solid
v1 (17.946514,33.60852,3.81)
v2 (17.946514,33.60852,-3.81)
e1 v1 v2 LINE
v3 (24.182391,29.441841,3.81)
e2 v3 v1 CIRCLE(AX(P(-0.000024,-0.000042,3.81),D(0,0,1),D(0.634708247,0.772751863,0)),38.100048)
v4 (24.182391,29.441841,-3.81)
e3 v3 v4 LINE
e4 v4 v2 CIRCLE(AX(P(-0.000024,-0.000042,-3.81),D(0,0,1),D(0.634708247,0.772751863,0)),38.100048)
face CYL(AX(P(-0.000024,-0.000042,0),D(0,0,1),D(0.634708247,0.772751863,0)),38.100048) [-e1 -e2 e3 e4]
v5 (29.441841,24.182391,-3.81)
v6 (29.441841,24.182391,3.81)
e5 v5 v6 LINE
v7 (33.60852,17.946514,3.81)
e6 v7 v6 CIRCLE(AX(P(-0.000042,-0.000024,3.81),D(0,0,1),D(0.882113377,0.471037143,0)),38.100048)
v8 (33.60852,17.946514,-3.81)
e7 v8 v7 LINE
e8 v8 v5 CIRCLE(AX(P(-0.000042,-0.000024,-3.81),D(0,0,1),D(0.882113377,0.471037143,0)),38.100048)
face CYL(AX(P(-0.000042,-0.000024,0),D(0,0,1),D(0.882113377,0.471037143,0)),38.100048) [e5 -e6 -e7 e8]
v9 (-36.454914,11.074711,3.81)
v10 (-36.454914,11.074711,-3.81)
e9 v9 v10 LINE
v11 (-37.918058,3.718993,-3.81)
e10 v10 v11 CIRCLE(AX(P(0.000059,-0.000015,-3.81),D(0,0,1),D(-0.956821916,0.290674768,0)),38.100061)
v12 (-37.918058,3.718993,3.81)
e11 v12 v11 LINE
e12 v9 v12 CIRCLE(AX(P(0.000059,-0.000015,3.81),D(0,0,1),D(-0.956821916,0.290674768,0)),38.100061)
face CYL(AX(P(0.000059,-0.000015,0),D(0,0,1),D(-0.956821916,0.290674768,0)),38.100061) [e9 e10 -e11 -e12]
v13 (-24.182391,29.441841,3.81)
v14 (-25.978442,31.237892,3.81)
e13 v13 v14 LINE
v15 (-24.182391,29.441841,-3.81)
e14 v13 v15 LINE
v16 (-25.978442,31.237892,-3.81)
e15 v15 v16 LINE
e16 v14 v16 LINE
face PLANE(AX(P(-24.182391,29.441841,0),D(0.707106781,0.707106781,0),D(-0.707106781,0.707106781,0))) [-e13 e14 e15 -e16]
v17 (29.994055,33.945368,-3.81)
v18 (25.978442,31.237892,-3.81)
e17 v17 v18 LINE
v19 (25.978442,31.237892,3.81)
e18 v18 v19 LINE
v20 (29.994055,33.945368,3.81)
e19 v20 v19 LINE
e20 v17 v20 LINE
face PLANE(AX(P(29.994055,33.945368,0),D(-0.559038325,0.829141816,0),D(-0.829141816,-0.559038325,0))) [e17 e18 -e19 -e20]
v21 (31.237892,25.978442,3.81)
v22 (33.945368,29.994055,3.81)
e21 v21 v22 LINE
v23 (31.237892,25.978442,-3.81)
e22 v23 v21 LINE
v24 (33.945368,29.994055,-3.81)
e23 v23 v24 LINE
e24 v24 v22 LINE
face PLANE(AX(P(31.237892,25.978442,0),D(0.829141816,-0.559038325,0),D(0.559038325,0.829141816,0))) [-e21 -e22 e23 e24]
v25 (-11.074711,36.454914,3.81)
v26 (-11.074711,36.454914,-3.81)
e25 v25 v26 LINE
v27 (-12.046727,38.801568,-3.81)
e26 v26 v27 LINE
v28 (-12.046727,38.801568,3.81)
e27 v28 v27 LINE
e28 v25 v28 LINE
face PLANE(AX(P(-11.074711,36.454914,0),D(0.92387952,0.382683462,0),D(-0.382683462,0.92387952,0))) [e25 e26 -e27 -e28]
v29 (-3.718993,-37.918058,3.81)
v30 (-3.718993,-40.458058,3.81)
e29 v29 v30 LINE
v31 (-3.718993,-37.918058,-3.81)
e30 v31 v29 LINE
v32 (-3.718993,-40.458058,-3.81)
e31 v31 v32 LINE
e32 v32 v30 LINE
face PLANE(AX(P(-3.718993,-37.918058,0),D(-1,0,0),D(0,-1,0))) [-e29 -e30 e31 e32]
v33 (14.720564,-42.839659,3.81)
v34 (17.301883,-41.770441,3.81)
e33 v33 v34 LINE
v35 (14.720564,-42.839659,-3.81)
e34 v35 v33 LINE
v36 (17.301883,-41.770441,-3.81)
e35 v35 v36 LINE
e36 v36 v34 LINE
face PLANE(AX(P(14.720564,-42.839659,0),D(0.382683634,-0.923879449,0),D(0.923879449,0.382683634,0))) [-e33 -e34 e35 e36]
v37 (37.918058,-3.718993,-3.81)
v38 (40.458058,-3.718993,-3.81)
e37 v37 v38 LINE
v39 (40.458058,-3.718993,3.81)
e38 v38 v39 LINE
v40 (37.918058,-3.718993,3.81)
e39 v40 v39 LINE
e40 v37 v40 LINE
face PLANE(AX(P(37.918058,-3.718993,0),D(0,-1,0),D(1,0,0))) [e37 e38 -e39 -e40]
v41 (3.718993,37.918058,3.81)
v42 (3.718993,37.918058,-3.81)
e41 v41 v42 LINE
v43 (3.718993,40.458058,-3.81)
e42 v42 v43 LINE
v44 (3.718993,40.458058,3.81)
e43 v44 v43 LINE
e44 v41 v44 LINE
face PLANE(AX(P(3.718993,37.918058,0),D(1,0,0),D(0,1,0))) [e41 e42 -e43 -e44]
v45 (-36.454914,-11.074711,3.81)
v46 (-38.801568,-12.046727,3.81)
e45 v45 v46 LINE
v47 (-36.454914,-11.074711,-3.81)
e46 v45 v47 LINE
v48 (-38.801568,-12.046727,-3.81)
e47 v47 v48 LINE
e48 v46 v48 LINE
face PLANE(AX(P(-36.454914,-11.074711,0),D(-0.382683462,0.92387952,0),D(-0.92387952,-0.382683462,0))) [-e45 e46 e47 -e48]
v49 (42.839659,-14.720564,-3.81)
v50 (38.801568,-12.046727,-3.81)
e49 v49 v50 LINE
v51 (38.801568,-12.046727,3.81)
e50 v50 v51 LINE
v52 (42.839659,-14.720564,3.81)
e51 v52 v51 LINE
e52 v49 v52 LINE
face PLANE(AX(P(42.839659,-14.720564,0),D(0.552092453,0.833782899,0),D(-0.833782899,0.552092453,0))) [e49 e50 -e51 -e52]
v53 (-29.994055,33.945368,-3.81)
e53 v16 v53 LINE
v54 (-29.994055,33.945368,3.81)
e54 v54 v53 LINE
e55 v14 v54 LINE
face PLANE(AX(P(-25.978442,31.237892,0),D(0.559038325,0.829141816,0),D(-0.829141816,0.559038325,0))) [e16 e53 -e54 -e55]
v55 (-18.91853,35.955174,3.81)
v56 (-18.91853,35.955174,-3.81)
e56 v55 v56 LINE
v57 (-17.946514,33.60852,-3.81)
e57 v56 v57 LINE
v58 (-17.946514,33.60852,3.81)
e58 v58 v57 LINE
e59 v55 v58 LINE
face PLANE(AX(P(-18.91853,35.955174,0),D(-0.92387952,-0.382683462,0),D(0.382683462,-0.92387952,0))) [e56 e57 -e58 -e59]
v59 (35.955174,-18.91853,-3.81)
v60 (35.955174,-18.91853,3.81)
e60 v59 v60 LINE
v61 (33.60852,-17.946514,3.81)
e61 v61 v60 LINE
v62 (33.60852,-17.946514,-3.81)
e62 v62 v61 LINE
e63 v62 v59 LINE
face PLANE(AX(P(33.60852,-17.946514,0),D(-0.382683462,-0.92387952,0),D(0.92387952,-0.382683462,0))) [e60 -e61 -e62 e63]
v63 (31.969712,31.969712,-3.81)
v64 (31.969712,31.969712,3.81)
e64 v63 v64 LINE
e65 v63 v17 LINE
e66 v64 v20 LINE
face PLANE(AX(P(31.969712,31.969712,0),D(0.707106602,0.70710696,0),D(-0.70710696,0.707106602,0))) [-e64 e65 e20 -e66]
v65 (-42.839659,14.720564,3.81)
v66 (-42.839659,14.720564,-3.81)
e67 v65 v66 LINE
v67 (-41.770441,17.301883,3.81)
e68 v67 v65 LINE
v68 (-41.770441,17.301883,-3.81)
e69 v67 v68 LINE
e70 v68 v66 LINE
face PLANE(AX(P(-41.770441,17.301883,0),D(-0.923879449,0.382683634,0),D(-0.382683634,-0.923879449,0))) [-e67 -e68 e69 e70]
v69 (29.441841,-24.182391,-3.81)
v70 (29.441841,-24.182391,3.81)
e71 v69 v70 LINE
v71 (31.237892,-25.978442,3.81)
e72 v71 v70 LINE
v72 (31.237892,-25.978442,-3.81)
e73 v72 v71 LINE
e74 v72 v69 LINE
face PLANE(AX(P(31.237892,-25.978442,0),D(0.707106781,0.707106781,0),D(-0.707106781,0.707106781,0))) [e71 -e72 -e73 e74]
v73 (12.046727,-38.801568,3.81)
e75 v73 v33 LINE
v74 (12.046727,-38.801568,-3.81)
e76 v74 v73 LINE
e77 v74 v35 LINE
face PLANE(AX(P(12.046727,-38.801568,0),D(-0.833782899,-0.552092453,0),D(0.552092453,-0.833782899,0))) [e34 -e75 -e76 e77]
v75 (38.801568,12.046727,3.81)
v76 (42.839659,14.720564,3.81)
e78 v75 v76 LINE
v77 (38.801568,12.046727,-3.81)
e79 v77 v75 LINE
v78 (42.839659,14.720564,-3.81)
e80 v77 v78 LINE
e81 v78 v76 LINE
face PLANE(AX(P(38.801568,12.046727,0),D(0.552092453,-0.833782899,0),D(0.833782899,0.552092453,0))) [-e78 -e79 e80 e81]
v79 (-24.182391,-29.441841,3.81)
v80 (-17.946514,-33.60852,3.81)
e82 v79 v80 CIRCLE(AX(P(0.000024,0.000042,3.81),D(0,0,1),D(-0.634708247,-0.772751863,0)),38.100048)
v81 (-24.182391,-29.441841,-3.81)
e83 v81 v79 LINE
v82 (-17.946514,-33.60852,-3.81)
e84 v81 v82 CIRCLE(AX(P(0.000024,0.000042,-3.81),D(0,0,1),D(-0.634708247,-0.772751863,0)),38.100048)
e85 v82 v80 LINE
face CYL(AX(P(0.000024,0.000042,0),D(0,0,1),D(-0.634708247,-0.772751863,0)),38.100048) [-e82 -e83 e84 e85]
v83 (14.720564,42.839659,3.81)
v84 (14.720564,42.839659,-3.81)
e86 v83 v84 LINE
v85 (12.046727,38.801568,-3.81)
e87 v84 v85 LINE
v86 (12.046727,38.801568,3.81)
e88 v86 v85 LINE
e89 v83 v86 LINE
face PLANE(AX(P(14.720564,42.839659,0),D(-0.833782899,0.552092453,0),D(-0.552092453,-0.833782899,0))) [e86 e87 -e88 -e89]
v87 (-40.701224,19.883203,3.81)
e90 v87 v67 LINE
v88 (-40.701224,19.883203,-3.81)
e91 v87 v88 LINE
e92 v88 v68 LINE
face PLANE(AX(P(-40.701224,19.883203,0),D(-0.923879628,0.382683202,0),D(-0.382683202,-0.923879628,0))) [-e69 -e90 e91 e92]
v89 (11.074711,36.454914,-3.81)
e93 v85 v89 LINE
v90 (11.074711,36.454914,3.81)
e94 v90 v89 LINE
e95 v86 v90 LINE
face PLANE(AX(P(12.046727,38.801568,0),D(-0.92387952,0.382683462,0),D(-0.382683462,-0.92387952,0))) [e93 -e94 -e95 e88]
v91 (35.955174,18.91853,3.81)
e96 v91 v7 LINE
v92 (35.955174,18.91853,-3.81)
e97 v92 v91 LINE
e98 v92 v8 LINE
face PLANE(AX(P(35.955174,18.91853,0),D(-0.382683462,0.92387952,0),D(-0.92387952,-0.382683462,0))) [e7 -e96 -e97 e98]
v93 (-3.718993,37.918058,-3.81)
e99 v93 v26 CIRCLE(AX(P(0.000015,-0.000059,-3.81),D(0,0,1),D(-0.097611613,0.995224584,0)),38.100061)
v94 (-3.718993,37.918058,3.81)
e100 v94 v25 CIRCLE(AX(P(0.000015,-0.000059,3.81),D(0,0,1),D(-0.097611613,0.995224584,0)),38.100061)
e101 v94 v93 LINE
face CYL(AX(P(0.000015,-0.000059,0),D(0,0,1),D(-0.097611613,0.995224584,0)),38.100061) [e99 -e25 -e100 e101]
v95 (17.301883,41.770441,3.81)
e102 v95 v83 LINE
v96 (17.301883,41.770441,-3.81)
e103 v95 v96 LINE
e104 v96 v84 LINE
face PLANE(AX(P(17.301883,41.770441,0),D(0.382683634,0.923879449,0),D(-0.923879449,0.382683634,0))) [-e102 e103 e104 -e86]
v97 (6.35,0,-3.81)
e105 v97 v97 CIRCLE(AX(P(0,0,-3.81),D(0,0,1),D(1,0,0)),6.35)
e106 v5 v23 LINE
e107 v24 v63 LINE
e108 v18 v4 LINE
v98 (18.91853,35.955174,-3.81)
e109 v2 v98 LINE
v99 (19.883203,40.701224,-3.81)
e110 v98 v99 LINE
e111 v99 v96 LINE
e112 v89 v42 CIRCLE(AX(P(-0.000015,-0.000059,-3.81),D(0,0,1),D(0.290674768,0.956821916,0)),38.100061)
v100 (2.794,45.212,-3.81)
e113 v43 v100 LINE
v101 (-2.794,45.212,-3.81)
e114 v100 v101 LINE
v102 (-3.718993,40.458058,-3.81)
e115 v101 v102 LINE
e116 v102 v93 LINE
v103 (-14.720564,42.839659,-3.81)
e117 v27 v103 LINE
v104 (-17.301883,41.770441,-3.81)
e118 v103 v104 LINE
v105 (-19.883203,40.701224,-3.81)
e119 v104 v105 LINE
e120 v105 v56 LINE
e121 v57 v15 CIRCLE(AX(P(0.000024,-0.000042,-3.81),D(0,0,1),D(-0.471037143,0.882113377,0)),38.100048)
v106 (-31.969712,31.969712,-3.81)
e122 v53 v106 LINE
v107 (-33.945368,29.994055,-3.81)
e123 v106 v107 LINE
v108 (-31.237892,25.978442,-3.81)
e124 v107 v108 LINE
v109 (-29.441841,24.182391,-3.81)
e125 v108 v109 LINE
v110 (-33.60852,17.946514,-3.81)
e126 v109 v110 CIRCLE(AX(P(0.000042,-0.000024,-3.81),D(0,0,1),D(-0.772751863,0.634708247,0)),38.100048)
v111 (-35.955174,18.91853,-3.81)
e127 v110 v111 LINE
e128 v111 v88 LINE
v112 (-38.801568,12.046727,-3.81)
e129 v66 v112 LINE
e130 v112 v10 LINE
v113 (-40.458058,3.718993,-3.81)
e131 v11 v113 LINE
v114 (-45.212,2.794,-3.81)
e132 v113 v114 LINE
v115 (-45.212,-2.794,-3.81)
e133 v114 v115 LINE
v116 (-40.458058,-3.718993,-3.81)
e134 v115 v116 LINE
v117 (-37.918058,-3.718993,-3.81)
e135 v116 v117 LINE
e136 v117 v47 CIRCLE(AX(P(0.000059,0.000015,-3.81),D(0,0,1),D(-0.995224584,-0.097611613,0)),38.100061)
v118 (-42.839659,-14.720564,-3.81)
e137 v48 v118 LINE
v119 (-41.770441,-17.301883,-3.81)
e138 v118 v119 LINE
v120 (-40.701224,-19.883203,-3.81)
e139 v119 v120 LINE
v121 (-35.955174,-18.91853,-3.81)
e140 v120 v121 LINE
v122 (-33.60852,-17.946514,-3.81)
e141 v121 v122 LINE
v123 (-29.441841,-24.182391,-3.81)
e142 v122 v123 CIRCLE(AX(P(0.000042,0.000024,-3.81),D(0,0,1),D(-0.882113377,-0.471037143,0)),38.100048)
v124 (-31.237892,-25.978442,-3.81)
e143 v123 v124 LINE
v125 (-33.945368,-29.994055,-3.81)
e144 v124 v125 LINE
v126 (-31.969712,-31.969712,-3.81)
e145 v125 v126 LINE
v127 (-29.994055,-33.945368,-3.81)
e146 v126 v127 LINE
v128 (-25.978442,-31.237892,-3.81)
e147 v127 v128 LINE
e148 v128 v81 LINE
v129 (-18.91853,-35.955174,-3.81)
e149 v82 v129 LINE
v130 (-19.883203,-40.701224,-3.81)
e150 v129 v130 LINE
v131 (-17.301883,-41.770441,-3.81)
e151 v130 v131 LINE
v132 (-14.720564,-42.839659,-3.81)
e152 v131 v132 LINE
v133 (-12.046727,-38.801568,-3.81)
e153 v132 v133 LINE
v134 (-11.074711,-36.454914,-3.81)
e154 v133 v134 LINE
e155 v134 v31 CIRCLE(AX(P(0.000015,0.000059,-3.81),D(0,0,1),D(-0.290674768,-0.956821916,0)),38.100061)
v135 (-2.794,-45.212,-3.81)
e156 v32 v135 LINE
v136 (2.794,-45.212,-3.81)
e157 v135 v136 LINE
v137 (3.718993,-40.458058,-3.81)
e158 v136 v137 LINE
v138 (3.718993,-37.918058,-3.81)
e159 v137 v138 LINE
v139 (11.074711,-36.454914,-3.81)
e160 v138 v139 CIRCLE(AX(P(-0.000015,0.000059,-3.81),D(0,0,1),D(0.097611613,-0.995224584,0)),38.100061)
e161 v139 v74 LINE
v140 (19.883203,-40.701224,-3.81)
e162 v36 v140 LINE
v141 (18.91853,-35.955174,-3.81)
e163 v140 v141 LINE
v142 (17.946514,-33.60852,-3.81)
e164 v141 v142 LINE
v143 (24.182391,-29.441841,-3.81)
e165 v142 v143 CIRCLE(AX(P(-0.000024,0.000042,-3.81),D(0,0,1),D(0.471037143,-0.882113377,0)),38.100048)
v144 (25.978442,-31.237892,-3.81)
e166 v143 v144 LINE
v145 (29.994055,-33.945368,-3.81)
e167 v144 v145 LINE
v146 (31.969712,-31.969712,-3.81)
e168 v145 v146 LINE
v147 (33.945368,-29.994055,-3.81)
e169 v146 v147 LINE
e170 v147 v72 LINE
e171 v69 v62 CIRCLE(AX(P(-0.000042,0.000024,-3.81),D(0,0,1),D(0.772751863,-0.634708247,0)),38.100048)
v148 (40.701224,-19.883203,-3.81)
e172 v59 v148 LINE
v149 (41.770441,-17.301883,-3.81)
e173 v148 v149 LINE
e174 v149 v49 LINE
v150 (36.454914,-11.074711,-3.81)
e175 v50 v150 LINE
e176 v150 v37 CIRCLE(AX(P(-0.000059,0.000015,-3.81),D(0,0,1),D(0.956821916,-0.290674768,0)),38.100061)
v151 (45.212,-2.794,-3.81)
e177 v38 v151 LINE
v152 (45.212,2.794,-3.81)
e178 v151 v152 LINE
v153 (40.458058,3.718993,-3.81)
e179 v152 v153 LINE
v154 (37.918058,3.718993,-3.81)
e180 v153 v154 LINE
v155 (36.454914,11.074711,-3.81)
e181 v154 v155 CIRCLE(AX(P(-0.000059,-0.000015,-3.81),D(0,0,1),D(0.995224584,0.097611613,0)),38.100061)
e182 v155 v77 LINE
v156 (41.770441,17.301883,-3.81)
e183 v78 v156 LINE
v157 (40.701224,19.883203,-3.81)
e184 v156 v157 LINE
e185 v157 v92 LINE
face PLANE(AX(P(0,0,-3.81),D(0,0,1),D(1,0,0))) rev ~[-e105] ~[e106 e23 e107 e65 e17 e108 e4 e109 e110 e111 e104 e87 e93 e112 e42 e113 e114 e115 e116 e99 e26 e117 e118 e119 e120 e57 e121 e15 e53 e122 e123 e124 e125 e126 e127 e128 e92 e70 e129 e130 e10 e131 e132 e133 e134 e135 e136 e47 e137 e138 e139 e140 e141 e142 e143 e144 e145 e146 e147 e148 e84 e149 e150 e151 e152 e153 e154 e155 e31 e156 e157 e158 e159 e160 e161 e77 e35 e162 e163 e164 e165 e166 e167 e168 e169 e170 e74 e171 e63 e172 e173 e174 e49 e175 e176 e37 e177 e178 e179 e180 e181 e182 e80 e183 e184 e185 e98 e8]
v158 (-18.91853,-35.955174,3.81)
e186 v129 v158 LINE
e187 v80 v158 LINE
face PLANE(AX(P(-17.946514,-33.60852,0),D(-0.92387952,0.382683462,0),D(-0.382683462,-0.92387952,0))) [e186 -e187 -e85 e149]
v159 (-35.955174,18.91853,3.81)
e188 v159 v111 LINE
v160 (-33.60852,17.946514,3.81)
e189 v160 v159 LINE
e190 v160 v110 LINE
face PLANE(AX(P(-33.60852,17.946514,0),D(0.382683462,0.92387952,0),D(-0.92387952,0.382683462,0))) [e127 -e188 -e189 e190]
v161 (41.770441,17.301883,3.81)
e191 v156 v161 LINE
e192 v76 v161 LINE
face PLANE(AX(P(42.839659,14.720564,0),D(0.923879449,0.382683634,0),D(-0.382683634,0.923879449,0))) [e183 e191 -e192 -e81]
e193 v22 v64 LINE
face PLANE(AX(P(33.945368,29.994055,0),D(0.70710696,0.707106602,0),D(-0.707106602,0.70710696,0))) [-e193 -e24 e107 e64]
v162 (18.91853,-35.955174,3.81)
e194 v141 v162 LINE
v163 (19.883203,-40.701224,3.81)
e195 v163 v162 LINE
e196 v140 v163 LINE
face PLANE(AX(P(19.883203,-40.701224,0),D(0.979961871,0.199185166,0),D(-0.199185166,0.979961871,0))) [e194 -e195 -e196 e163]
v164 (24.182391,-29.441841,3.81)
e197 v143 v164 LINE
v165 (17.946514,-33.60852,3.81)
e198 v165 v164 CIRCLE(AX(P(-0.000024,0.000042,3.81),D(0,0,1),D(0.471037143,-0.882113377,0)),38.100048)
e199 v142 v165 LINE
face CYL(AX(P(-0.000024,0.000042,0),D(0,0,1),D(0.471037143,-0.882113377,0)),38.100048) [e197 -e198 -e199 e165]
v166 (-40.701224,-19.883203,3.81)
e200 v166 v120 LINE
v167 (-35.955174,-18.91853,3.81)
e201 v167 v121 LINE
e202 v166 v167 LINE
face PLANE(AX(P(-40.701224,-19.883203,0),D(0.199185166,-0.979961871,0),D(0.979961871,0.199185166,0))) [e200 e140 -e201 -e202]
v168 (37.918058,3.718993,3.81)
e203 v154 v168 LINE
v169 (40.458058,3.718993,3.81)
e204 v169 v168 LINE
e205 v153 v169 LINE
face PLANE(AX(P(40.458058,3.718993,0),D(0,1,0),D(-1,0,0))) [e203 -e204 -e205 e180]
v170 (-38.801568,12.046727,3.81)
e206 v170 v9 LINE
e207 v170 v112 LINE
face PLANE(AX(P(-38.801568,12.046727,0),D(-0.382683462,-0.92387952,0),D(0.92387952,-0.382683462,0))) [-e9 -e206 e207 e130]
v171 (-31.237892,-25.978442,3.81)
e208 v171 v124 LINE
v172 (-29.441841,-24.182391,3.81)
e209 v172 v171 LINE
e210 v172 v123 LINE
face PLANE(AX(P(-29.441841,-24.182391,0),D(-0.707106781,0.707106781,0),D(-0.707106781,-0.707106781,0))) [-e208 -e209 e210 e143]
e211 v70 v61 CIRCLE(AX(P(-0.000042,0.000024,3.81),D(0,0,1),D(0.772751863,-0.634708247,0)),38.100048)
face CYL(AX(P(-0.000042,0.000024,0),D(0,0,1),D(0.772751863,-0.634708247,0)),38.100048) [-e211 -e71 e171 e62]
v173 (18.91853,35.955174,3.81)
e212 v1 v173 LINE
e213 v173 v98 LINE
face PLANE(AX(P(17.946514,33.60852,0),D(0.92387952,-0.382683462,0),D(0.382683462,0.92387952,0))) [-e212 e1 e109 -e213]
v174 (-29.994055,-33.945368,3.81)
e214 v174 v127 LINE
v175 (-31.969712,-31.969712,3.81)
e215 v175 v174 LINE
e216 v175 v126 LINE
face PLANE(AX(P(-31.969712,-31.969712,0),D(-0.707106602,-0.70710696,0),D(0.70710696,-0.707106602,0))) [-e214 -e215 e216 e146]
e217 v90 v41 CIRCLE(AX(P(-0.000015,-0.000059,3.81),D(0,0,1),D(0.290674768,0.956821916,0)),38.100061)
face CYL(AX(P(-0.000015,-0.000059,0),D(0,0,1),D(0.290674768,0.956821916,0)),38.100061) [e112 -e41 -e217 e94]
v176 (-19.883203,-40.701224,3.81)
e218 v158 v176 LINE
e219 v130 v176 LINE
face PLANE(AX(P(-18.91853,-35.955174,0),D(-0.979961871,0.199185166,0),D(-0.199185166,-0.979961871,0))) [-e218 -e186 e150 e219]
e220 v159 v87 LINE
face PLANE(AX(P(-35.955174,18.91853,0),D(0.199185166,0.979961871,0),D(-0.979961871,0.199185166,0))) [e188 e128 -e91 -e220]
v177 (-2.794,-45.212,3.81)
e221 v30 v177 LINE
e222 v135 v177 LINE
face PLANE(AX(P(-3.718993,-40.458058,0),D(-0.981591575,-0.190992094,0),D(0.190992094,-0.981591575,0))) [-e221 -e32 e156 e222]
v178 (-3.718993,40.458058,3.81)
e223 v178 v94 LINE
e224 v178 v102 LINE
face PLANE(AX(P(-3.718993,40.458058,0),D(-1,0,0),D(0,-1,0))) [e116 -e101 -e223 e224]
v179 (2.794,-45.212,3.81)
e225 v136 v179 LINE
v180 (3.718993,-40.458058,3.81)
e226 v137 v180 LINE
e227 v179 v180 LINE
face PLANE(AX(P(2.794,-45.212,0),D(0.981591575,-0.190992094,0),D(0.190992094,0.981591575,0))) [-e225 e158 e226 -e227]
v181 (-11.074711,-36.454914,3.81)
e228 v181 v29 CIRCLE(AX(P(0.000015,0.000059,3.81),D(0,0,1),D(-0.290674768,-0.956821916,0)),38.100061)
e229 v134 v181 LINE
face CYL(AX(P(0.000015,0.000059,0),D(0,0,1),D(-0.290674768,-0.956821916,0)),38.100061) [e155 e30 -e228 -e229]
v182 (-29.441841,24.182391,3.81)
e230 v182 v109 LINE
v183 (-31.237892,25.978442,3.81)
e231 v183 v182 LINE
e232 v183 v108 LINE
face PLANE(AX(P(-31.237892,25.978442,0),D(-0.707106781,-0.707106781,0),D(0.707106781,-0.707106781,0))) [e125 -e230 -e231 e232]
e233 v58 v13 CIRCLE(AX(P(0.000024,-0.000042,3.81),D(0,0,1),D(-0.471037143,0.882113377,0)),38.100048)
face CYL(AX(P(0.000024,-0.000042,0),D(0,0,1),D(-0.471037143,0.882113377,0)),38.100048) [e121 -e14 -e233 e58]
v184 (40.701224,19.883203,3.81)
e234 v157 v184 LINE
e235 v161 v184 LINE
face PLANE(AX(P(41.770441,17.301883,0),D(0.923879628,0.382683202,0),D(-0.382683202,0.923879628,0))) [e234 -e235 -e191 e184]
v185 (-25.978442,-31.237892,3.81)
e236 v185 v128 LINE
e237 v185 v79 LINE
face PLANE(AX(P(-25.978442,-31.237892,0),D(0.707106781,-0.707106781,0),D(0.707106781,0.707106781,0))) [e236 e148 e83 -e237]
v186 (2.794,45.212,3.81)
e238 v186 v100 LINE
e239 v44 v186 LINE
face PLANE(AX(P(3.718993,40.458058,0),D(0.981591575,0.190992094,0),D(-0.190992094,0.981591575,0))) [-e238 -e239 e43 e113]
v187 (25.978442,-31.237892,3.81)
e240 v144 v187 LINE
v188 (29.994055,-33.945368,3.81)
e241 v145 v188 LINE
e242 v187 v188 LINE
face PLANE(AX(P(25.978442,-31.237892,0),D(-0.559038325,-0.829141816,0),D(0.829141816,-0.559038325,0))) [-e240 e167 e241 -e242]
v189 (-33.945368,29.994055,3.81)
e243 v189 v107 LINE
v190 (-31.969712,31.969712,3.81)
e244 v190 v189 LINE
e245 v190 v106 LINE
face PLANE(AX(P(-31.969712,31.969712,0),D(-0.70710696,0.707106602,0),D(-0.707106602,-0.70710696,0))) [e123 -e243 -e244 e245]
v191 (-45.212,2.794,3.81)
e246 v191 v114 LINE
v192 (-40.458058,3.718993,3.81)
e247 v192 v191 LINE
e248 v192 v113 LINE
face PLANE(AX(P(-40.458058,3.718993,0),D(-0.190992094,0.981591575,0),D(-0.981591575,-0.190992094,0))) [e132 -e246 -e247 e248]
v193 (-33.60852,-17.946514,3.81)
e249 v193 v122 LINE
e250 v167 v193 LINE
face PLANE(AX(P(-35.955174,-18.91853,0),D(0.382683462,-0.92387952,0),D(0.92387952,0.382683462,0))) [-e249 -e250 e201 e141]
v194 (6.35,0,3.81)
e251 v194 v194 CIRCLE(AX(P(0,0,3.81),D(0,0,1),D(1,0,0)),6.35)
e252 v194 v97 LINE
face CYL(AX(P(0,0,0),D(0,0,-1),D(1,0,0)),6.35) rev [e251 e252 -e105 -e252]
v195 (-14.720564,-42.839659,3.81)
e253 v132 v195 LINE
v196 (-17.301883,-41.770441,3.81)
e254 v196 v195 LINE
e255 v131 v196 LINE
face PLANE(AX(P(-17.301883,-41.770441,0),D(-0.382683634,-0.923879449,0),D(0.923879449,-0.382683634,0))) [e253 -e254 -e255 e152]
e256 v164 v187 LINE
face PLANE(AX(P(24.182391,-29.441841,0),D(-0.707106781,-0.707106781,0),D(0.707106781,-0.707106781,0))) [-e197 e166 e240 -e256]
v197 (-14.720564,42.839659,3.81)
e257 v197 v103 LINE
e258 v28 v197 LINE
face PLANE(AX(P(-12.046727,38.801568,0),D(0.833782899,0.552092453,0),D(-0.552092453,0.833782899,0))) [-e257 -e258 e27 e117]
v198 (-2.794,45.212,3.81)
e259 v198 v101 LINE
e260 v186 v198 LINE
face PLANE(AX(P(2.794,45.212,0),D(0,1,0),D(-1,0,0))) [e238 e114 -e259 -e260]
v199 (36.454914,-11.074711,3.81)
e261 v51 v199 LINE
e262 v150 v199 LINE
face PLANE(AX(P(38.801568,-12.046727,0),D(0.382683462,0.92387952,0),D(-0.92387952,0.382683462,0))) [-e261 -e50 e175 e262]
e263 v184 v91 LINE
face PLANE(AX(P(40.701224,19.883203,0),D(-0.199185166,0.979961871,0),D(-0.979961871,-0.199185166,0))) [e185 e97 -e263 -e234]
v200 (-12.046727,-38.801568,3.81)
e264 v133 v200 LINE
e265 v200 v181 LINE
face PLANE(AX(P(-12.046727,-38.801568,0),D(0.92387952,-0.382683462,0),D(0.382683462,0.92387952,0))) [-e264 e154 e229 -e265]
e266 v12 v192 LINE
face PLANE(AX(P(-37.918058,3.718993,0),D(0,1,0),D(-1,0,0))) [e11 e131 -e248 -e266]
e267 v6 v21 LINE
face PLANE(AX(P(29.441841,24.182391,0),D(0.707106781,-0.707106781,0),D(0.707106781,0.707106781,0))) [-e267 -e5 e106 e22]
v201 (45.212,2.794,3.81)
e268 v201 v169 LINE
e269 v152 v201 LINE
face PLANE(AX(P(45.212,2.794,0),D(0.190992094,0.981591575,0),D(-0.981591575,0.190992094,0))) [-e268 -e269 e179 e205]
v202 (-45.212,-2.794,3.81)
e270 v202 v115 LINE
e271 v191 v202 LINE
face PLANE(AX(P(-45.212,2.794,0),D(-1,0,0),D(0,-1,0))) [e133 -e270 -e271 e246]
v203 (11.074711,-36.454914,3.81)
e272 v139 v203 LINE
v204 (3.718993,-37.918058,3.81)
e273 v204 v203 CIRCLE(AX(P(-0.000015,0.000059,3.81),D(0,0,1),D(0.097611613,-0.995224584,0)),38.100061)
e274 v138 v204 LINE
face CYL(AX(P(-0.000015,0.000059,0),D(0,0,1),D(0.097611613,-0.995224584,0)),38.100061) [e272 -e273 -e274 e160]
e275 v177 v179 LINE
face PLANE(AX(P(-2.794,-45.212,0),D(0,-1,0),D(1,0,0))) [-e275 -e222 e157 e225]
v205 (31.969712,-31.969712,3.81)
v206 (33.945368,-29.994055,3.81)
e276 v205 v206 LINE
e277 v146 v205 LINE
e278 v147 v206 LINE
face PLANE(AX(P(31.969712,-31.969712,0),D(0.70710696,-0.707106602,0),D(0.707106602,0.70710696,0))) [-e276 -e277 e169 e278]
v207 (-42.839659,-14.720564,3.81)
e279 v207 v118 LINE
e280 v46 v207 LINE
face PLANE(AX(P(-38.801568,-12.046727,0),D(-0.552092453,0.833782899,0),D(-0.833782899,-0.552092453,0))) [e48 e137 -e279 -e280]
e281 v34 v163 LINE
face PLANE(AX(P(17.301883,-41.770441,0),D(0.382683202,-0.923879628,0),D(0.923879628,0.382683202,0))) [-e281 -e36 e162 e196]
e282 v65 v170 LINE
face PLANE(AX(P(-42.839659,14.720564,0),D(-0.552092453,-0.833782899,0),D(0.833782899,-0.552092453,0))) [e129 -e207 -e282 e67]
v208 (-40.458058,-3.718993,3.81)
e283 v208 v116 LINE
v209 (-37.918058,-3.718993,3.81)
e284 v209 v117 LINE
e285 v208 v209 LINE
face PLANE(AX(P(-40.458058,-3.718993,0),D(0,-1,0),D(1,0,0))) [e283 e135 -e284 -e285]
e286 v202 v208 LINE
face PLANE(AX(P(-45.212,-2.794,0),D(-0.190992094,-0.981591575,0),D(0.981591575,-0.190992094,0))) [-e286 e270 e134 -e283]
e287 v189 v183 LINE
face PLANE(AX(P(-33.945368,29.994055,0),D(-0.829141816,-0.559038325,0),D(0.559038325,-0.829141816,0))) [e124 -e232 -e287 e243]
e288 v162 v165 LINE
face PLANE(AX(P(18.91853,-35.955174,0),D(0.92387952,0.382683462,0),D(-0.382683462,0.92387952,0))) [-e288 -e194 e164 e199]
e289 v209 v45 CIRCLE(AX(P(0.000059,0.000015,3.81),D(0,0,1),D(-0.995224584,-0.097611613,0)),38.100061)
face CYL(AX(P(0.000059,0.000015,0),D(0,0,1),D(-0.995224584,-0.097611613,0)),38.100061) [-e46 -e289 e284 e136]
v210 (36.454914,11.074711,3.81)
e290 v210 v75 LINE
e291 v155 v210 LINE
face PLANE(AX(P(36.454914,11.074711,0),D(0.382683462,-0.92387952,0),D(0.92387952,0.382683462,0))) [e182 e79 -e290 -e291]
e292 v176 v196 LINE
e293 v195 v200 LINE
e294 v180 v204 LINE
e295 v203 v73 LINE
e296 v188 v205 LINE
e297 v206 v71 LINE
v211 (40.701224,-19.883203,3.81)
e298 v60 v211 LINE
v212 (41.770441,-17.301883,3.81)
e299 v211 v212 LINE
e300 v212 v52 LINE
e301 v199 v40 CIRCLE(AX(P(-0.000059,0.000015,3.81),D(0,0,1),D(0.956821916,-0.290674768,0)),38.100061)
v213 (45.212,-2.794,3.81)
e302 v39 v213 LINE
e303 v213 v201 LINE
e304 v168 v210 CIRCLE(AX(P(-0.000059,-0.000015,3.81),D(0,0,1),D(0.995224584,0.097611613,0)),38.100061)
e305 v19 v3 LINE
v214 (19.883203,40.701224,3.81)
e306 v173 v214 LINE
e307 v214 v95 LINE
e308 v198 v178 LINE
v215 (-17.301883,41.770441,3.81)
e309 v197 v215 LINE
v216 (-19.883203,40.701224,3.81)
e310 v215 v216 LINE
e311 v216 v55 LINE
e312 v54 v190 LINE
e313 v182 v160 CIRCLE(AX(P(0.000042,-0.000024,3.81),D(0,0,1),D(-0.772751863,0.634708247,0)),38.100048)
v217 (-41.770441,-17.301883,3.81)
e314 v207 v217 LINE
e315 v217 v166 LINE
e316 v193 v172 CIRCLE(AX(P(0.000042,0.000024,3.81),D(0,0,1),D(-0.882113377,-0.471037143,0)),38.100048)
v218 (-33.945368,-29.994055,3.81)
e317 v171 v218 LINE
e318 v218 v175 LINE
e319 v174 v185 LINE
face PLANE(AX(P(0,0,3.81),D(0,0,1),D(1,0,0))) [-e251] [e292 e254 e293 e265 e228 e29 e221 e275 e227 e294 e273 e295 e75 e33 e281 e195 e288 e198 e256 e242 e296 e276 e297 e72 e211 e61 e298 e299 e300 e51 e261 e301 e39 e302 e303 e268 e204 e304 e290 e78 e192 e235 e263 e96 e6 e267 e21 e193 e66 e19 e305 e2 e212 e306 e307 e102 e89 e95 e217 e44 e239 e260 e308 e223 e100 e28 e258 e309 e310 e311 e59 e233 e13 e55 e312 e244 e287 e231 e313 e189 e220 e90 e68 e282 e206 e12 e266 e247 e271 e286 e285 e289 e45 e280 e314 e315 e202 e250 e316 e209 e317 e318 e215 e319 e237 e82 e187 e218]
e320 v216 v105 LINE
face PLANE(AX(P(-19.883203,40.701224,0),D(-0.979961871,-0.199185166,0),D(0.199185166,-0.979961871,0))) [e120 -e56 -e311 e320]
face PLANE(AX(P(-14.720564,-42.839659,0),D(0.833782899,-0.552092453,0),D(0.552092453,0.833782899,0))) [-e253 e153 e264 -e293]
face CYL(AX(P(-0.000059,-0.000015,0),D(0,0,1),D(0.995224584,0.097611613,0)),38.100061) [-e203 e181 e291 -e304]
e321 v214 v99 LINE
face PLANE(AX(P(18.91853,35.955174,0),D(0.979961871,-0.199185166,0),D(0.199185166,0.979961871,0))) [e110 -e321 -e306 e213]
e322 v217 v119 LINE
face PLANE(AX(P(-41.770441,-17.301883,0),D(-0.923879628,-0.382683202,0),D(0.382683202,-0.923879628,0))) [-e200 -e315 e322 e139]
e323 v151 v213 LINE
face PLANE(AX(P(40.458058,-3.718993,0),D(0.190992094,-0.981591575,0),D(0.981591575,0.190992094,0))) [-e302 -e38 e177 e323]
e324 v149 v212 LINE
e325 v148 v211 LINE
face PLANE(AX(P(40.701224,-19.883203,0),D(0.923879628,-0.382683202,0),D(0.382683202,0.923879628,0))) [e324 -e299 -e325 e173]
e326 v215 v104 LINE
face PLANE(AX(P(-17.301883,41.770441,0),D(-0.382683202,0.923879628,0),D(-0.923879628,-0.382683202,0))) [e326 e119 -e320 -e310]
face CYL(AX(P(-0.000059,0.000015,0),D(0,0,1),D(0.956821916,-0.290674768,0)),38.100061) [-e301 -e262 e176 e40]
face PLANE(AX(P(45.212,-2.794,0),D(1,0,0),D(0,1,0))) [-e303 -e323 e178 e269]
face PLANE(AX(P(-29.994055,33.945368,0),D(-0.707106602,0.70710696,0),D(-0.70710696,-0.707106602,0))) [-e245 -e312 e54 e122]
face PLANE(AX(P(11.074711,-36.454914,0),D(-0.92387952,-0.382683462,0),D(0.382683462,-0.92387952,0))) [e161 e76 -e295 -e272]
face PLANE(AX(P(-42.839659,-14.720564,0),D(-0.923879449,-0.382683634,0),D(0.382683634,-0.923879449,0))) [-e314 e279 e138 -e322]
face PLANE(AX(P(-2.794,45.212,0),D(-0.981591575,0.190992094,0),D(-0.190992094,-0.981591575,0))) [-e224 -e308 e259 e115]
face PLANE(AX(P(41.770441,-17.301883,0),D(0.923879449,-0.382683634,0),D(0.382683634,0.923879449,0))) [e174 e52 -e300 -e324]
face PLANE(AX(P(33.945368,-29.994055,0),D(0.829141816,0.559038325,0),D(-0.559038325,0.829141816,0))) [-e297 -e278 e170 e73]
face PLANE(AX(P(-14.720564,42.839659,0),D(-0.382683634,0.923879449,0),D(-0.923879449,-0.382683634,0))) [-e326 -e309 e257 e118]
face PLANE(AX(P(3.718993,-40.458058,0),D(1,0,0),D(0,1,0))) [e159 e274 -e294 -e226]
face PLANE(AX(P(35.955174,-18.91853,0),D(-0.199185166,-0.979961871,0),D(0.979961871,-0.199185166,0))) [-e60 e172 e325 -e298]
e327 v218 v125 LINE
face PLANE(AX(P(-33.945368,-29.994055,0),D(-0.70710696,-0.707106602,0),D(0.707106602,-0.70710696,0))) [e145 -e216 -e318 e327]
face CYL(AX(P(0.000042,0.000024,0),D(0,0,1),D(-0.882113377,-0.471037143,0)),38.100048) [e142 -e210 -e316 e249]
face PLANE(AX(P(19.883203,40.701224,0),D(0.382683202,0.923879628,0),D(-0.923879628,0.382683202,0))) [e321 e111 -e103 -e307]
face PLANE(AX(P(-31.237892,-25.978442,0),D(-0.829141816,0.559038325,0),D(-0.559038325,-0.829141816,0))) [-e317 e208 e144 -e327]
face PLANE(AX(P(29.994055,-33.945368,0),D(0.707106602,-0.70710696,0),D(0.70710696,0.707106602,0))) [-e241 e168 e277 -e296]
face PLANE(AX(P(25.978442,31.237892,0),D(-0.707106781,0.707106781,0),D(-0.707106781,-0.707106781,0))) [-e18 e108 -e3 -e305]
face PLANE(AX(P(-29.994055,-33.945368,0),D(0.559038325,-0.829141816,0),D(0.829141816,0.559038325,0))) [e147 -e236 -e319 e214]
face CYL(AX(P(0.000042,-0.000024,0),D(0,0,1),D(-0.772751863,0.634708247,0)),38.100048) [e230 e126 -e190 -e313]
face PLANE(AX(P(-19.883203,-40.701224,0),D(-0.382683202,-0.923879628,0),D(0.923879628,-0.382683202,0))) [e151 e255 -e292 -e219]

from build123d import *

# Parameters (mm, degrees)
F0_R     = 6.35
F1_DEPTH = 3.81


with BuildPart() as f1:
    # F0 (on Top) → F1 (new body, symmetric)
    with BuildSketch(Plane.XY):
        with BuildLine():
            Line((-25.978442, -31.237892), (-24.182391, -29.441841))
            ThreePointArc((-24.182391, -29.441841), (-21.167226, -31.678992), (-17.946514, -33.60852))
            Line((-17.946514, -33.60852), (-18.91853, -35.955174))
            Line((-18.91853, -35.955174), (-19.883203, -40.701224))
            Line((-19.883203, -40.701224), (-17.301883, -41.770441))
            Line((-17.301883, -41.770441), (-14.720564, -42.839659))
            Line((-14.720564, -42.839659), (-12.046727, -38.801568))
            Line((-12.046727, -38.801568), (-11.074711, -36.454914))
            ThreePointArc((-11.074711, -36.454914), (-7.432941, -37.367919), (-3.718993, -37.918058))
            Line((-3.718993, -37.918058), (-3.718993, -40.458058))
            Line((-3.718993, -40.458058), (-2.794, -45.212))
            Line((-2.794, -45.212), (0, -45.212))
            Line((0, -45.212), (2.794, -45.212))
            Line((2.794, -45.212), (3.718993, -40.458058))
            Line((3.718993, -40.458058), (3.718993, -37.918058))
            ThreePointArc((3.718993, -37.918058), (7.432941, -37.367919), (11.074711, -36.454914))
            Line((11.074711, -36.454914), (12.046727, -38.801568))
            Line((12.046727, -38.801568), (14.720564, -42.839659))
            Line((14.720564, -42.839659), (17.301883, -41.770441))
            Line((17.301883, -41.770441), (19.883203, -40.701224))
            Line((19.883203, -40.701224), (18.91853, -35.955174))
            Line((18.91853, -35.955174), (17.946514, -33.60852))
            ThreePointArc((17.946514, -33.60852), (21.167226, -31.678992), (24.182391, -29.441841))
            Line((24.182391, -29.441841), (25.978442, -31.237892))
            Line((25.978442, -31.237892), (29.994055, -33.945368))
            Line((29.994055, -33.945368), (31.969712, -31.969712))
            Line((31.969712, -31.969712), (33.945368, -29.994055))
            Line((33.945368, -29.994055), (31.237892, -25.978442))
            Line((31.237892, -25.978442), (29.441841, -24.182391))
            ThreePointArc((29.441841, -24.182391), (31.678992, -21.167226), (33.60852, -17.946514))
            Line((33.60852, -17.946514), (35.955174, -18.91853))
            Line((35.955174, -18.91853), (40.701224, -19.883203))
            Line((40.701224, -19.883203), (41.770441, -17.301883))
            Line((41.770441, -17.301883), (42.839659, -14.720564))
            Line((42.839659, -14.720564), (38.801568, -12.046727))
            Line((38.801568, -12.046727), (36.454914, -11.074711))
            ThreePointArc((36.454914, -11.074711), (37.367919, -7.432941), (37.918058, -3.718993))
            Line((37.918058, -3.718993), (40.458058, -3.718993))
            Line((40.458058, -3.718993), (45.212, -2.794))
            Line((45.212, -2.794), (45.212, 0))
            Line((45.212, 0), (45.212, 2.794))
            Line((45.212, 2.794), (40.458058, 3.718993))
            Line((40.458058, 3.718993), (37.918058, 3.718993))
            ThreePointArc((37.918058, 3.718993), (37.367919, 7.432941), (36.454914, 11.074711))
            Line((36.454914, 11.074711), (38.801568, 12.046727))
            Line((38.801568, 12.046727), (42.839659, 14.720564))
            Line((42.839659, 14.720564), (41.770441, 17.301883))
            Line((41.770441, 17.301883), (40.701224, 19.883203))
            Line((40.701224, 19.883203), (35.955174, 18.91853))
            Line((35.955174, 18.91853), (33.60852, 17.946514))
            ThreePointArc((33.60852, 17.946514), (31.678992, 21.167226), (29.441841, 24.182391))
            Line((29.441841, 24.182391), (31.237892, 25.978442))
            Line((31.237892, 25.978442), (33.945368, 29.994055))
            Line((33.945368, 29.994055), (31.969712, 31.969712))
            Line((31.969712, 31.969712), (29.994055, 33.945368))
            Line((29.994055, 33.945368), (25.978442, 31.237892))
            Line((25.978442, 31.237892), (24.182391, 29.441841))
            ThreePointArc((24.182391, 29.441841), (21.167226, 31.678992), (17.946514, 33.60852))
            Line((17.946514, 33.60852), (18.91853, 35.955174))
            Line((18.91853, 35.955174), (19.883203, 40.701224))
            Line((19.883203, 40.701224), (17.301883, 41.770441))
            Line((17.301883, 41.770441), (14.720564, 42.839659))
            Line((14.720564, 42.839659), (12.046727, 38.801568))
            Line((12.046727, 38.801568), (11.074711, 36.454914))
            ThreePointArc((11.074711, 36.454914), (7.432941, 37.367919), (3.718993, 37.918058))
            Line((3.718993, 37.918058), (3.718993, 40.458058))
            Line((3.718993, 40.458058), (2.794, 45.212))
            Line((2.794, 45.212), (0, 45.212))
            Line((0, 45.212), (-2.794, 45.212))
            Line((-2.794, 45.212), (-3.718993, 40.458058))
            Line((-3.718993, 40.458058), (-3.718993, 37.918058))
            ThreePointArc((-3.718993, 37.918058), (-7.432941, 37.367919), (-11.074711, 36.454914))
            Line((-11.074711, 36.454914), (-12.046727, 38.801568))
            Line((-12.046727, 38.801568), (-14.720564, 42.839659))
            Line((-14.720564, 42.839659), (-17.301883, 41.770441))
            Line((-17.301883, 41.770441), (-19.883203, 40.701224))
            Line((-19.883203, 40.701224), (-18.91853, 35.955174))
            Line((-18.91853, 35.955174), (-17.946514, 33.60852))
            ThreePointArc((-17.946514, 33.60852), (-21.167226, 31.678992), (-24.182391, 29.441841))
            Line((-24.182391, 29.441841), (-25.978442, 31.237892))
            Line((-25.978442, 31.237892), (-29.994055, 33.945368))
            Line((-29.994055, 33.945368), (-31.969712, 31.969712))
            Line((-31.969712, 31.969712), (-33.945368, 29.994055))
            Line((-33.945368, 29.994055), (-31.237892, 25.978442))
            Line((-31.237892, 25.978442), (-29.441841, 24.182391))
            ThreePointArc((-29.441841, 24.182391), (-31.678992, 21.167226), (-33.60852, 17.946514))
            Line((-33.60852, 17.946514), (-35.955174, 18.91853))
            Line((-35.955174, 18.91853), (-40.701224, 19.883203))
            Line((-40.701224, 19.883203), (-41.770441, 17.301883))
            Line((-41.770441, 17.301883), (-42.839659, 14.720564))
            Line((-42.839659, 14.720564), (-38.801568, 12.046727))
            Line((-38.801568, 12.046727), (-36.454914, 11.074711))
            ThreePointArc((-36.454914, 11.074711), (-37.367919, 7.432941), (-37.918058, 3.718993))
            Line((-37.918058, 3.718993), (-40.458058, 3.718993))
            Line((-40.458058, 3.718993), (-45.212, 2.794))
            Line((-45.212, 2.794), (-45.212, 0))
            Line((-45.212, 0), (-45.212, -2.794))
            Line((-45.212, -2.794), (-40.458058, -3.718993))
            Line((-40.458058, -3.718993), (-37.918058, -3.718993))
            ThreePointArc((-37.918058, -3.718993), (-37.367919, -7.432941), (-36.454914, -11.074711))
            Line((-36.454914, -11.074711), (-38.801568, -12.046727))
            Line((-38.801568, -12.046727), (-42.839659, -14.720564))
            Line((-42.839659, -14.720564), (-41.770441, -17.301883))
            Line((-41.770441, -17.301883), (-40.701224, -19.883203))
            Line((-40.701224, -19.883203), (-35.955174, -18.91853))
            Line((-35.955174, -18.91853), (-33.60852, -17.946514))
            ThreePointArc((-33.60852, -17.946514), (-31.678992, -21.167226), (-29.441841, -24.182391))
            Line((-29.441841, -24.182391), (-31.237892, -25.978442))
            Line((-31.237892, -25.978442), (-33.945368, -29.994055))
            Line((-33.945368, -29.994055), (-31.969712, -31.969712))
            Line((-31.969712, -31.969712), (-29.994055, -33.945368))
            Line((-29.994055, -33.945368), (-25.978442, -31.237892))
        make_face()
        Circle(F0_R, mode=Mode.SUBTRACT)
    extrude(amount=F1_DEPTH, both=True)


solid = f1.part
